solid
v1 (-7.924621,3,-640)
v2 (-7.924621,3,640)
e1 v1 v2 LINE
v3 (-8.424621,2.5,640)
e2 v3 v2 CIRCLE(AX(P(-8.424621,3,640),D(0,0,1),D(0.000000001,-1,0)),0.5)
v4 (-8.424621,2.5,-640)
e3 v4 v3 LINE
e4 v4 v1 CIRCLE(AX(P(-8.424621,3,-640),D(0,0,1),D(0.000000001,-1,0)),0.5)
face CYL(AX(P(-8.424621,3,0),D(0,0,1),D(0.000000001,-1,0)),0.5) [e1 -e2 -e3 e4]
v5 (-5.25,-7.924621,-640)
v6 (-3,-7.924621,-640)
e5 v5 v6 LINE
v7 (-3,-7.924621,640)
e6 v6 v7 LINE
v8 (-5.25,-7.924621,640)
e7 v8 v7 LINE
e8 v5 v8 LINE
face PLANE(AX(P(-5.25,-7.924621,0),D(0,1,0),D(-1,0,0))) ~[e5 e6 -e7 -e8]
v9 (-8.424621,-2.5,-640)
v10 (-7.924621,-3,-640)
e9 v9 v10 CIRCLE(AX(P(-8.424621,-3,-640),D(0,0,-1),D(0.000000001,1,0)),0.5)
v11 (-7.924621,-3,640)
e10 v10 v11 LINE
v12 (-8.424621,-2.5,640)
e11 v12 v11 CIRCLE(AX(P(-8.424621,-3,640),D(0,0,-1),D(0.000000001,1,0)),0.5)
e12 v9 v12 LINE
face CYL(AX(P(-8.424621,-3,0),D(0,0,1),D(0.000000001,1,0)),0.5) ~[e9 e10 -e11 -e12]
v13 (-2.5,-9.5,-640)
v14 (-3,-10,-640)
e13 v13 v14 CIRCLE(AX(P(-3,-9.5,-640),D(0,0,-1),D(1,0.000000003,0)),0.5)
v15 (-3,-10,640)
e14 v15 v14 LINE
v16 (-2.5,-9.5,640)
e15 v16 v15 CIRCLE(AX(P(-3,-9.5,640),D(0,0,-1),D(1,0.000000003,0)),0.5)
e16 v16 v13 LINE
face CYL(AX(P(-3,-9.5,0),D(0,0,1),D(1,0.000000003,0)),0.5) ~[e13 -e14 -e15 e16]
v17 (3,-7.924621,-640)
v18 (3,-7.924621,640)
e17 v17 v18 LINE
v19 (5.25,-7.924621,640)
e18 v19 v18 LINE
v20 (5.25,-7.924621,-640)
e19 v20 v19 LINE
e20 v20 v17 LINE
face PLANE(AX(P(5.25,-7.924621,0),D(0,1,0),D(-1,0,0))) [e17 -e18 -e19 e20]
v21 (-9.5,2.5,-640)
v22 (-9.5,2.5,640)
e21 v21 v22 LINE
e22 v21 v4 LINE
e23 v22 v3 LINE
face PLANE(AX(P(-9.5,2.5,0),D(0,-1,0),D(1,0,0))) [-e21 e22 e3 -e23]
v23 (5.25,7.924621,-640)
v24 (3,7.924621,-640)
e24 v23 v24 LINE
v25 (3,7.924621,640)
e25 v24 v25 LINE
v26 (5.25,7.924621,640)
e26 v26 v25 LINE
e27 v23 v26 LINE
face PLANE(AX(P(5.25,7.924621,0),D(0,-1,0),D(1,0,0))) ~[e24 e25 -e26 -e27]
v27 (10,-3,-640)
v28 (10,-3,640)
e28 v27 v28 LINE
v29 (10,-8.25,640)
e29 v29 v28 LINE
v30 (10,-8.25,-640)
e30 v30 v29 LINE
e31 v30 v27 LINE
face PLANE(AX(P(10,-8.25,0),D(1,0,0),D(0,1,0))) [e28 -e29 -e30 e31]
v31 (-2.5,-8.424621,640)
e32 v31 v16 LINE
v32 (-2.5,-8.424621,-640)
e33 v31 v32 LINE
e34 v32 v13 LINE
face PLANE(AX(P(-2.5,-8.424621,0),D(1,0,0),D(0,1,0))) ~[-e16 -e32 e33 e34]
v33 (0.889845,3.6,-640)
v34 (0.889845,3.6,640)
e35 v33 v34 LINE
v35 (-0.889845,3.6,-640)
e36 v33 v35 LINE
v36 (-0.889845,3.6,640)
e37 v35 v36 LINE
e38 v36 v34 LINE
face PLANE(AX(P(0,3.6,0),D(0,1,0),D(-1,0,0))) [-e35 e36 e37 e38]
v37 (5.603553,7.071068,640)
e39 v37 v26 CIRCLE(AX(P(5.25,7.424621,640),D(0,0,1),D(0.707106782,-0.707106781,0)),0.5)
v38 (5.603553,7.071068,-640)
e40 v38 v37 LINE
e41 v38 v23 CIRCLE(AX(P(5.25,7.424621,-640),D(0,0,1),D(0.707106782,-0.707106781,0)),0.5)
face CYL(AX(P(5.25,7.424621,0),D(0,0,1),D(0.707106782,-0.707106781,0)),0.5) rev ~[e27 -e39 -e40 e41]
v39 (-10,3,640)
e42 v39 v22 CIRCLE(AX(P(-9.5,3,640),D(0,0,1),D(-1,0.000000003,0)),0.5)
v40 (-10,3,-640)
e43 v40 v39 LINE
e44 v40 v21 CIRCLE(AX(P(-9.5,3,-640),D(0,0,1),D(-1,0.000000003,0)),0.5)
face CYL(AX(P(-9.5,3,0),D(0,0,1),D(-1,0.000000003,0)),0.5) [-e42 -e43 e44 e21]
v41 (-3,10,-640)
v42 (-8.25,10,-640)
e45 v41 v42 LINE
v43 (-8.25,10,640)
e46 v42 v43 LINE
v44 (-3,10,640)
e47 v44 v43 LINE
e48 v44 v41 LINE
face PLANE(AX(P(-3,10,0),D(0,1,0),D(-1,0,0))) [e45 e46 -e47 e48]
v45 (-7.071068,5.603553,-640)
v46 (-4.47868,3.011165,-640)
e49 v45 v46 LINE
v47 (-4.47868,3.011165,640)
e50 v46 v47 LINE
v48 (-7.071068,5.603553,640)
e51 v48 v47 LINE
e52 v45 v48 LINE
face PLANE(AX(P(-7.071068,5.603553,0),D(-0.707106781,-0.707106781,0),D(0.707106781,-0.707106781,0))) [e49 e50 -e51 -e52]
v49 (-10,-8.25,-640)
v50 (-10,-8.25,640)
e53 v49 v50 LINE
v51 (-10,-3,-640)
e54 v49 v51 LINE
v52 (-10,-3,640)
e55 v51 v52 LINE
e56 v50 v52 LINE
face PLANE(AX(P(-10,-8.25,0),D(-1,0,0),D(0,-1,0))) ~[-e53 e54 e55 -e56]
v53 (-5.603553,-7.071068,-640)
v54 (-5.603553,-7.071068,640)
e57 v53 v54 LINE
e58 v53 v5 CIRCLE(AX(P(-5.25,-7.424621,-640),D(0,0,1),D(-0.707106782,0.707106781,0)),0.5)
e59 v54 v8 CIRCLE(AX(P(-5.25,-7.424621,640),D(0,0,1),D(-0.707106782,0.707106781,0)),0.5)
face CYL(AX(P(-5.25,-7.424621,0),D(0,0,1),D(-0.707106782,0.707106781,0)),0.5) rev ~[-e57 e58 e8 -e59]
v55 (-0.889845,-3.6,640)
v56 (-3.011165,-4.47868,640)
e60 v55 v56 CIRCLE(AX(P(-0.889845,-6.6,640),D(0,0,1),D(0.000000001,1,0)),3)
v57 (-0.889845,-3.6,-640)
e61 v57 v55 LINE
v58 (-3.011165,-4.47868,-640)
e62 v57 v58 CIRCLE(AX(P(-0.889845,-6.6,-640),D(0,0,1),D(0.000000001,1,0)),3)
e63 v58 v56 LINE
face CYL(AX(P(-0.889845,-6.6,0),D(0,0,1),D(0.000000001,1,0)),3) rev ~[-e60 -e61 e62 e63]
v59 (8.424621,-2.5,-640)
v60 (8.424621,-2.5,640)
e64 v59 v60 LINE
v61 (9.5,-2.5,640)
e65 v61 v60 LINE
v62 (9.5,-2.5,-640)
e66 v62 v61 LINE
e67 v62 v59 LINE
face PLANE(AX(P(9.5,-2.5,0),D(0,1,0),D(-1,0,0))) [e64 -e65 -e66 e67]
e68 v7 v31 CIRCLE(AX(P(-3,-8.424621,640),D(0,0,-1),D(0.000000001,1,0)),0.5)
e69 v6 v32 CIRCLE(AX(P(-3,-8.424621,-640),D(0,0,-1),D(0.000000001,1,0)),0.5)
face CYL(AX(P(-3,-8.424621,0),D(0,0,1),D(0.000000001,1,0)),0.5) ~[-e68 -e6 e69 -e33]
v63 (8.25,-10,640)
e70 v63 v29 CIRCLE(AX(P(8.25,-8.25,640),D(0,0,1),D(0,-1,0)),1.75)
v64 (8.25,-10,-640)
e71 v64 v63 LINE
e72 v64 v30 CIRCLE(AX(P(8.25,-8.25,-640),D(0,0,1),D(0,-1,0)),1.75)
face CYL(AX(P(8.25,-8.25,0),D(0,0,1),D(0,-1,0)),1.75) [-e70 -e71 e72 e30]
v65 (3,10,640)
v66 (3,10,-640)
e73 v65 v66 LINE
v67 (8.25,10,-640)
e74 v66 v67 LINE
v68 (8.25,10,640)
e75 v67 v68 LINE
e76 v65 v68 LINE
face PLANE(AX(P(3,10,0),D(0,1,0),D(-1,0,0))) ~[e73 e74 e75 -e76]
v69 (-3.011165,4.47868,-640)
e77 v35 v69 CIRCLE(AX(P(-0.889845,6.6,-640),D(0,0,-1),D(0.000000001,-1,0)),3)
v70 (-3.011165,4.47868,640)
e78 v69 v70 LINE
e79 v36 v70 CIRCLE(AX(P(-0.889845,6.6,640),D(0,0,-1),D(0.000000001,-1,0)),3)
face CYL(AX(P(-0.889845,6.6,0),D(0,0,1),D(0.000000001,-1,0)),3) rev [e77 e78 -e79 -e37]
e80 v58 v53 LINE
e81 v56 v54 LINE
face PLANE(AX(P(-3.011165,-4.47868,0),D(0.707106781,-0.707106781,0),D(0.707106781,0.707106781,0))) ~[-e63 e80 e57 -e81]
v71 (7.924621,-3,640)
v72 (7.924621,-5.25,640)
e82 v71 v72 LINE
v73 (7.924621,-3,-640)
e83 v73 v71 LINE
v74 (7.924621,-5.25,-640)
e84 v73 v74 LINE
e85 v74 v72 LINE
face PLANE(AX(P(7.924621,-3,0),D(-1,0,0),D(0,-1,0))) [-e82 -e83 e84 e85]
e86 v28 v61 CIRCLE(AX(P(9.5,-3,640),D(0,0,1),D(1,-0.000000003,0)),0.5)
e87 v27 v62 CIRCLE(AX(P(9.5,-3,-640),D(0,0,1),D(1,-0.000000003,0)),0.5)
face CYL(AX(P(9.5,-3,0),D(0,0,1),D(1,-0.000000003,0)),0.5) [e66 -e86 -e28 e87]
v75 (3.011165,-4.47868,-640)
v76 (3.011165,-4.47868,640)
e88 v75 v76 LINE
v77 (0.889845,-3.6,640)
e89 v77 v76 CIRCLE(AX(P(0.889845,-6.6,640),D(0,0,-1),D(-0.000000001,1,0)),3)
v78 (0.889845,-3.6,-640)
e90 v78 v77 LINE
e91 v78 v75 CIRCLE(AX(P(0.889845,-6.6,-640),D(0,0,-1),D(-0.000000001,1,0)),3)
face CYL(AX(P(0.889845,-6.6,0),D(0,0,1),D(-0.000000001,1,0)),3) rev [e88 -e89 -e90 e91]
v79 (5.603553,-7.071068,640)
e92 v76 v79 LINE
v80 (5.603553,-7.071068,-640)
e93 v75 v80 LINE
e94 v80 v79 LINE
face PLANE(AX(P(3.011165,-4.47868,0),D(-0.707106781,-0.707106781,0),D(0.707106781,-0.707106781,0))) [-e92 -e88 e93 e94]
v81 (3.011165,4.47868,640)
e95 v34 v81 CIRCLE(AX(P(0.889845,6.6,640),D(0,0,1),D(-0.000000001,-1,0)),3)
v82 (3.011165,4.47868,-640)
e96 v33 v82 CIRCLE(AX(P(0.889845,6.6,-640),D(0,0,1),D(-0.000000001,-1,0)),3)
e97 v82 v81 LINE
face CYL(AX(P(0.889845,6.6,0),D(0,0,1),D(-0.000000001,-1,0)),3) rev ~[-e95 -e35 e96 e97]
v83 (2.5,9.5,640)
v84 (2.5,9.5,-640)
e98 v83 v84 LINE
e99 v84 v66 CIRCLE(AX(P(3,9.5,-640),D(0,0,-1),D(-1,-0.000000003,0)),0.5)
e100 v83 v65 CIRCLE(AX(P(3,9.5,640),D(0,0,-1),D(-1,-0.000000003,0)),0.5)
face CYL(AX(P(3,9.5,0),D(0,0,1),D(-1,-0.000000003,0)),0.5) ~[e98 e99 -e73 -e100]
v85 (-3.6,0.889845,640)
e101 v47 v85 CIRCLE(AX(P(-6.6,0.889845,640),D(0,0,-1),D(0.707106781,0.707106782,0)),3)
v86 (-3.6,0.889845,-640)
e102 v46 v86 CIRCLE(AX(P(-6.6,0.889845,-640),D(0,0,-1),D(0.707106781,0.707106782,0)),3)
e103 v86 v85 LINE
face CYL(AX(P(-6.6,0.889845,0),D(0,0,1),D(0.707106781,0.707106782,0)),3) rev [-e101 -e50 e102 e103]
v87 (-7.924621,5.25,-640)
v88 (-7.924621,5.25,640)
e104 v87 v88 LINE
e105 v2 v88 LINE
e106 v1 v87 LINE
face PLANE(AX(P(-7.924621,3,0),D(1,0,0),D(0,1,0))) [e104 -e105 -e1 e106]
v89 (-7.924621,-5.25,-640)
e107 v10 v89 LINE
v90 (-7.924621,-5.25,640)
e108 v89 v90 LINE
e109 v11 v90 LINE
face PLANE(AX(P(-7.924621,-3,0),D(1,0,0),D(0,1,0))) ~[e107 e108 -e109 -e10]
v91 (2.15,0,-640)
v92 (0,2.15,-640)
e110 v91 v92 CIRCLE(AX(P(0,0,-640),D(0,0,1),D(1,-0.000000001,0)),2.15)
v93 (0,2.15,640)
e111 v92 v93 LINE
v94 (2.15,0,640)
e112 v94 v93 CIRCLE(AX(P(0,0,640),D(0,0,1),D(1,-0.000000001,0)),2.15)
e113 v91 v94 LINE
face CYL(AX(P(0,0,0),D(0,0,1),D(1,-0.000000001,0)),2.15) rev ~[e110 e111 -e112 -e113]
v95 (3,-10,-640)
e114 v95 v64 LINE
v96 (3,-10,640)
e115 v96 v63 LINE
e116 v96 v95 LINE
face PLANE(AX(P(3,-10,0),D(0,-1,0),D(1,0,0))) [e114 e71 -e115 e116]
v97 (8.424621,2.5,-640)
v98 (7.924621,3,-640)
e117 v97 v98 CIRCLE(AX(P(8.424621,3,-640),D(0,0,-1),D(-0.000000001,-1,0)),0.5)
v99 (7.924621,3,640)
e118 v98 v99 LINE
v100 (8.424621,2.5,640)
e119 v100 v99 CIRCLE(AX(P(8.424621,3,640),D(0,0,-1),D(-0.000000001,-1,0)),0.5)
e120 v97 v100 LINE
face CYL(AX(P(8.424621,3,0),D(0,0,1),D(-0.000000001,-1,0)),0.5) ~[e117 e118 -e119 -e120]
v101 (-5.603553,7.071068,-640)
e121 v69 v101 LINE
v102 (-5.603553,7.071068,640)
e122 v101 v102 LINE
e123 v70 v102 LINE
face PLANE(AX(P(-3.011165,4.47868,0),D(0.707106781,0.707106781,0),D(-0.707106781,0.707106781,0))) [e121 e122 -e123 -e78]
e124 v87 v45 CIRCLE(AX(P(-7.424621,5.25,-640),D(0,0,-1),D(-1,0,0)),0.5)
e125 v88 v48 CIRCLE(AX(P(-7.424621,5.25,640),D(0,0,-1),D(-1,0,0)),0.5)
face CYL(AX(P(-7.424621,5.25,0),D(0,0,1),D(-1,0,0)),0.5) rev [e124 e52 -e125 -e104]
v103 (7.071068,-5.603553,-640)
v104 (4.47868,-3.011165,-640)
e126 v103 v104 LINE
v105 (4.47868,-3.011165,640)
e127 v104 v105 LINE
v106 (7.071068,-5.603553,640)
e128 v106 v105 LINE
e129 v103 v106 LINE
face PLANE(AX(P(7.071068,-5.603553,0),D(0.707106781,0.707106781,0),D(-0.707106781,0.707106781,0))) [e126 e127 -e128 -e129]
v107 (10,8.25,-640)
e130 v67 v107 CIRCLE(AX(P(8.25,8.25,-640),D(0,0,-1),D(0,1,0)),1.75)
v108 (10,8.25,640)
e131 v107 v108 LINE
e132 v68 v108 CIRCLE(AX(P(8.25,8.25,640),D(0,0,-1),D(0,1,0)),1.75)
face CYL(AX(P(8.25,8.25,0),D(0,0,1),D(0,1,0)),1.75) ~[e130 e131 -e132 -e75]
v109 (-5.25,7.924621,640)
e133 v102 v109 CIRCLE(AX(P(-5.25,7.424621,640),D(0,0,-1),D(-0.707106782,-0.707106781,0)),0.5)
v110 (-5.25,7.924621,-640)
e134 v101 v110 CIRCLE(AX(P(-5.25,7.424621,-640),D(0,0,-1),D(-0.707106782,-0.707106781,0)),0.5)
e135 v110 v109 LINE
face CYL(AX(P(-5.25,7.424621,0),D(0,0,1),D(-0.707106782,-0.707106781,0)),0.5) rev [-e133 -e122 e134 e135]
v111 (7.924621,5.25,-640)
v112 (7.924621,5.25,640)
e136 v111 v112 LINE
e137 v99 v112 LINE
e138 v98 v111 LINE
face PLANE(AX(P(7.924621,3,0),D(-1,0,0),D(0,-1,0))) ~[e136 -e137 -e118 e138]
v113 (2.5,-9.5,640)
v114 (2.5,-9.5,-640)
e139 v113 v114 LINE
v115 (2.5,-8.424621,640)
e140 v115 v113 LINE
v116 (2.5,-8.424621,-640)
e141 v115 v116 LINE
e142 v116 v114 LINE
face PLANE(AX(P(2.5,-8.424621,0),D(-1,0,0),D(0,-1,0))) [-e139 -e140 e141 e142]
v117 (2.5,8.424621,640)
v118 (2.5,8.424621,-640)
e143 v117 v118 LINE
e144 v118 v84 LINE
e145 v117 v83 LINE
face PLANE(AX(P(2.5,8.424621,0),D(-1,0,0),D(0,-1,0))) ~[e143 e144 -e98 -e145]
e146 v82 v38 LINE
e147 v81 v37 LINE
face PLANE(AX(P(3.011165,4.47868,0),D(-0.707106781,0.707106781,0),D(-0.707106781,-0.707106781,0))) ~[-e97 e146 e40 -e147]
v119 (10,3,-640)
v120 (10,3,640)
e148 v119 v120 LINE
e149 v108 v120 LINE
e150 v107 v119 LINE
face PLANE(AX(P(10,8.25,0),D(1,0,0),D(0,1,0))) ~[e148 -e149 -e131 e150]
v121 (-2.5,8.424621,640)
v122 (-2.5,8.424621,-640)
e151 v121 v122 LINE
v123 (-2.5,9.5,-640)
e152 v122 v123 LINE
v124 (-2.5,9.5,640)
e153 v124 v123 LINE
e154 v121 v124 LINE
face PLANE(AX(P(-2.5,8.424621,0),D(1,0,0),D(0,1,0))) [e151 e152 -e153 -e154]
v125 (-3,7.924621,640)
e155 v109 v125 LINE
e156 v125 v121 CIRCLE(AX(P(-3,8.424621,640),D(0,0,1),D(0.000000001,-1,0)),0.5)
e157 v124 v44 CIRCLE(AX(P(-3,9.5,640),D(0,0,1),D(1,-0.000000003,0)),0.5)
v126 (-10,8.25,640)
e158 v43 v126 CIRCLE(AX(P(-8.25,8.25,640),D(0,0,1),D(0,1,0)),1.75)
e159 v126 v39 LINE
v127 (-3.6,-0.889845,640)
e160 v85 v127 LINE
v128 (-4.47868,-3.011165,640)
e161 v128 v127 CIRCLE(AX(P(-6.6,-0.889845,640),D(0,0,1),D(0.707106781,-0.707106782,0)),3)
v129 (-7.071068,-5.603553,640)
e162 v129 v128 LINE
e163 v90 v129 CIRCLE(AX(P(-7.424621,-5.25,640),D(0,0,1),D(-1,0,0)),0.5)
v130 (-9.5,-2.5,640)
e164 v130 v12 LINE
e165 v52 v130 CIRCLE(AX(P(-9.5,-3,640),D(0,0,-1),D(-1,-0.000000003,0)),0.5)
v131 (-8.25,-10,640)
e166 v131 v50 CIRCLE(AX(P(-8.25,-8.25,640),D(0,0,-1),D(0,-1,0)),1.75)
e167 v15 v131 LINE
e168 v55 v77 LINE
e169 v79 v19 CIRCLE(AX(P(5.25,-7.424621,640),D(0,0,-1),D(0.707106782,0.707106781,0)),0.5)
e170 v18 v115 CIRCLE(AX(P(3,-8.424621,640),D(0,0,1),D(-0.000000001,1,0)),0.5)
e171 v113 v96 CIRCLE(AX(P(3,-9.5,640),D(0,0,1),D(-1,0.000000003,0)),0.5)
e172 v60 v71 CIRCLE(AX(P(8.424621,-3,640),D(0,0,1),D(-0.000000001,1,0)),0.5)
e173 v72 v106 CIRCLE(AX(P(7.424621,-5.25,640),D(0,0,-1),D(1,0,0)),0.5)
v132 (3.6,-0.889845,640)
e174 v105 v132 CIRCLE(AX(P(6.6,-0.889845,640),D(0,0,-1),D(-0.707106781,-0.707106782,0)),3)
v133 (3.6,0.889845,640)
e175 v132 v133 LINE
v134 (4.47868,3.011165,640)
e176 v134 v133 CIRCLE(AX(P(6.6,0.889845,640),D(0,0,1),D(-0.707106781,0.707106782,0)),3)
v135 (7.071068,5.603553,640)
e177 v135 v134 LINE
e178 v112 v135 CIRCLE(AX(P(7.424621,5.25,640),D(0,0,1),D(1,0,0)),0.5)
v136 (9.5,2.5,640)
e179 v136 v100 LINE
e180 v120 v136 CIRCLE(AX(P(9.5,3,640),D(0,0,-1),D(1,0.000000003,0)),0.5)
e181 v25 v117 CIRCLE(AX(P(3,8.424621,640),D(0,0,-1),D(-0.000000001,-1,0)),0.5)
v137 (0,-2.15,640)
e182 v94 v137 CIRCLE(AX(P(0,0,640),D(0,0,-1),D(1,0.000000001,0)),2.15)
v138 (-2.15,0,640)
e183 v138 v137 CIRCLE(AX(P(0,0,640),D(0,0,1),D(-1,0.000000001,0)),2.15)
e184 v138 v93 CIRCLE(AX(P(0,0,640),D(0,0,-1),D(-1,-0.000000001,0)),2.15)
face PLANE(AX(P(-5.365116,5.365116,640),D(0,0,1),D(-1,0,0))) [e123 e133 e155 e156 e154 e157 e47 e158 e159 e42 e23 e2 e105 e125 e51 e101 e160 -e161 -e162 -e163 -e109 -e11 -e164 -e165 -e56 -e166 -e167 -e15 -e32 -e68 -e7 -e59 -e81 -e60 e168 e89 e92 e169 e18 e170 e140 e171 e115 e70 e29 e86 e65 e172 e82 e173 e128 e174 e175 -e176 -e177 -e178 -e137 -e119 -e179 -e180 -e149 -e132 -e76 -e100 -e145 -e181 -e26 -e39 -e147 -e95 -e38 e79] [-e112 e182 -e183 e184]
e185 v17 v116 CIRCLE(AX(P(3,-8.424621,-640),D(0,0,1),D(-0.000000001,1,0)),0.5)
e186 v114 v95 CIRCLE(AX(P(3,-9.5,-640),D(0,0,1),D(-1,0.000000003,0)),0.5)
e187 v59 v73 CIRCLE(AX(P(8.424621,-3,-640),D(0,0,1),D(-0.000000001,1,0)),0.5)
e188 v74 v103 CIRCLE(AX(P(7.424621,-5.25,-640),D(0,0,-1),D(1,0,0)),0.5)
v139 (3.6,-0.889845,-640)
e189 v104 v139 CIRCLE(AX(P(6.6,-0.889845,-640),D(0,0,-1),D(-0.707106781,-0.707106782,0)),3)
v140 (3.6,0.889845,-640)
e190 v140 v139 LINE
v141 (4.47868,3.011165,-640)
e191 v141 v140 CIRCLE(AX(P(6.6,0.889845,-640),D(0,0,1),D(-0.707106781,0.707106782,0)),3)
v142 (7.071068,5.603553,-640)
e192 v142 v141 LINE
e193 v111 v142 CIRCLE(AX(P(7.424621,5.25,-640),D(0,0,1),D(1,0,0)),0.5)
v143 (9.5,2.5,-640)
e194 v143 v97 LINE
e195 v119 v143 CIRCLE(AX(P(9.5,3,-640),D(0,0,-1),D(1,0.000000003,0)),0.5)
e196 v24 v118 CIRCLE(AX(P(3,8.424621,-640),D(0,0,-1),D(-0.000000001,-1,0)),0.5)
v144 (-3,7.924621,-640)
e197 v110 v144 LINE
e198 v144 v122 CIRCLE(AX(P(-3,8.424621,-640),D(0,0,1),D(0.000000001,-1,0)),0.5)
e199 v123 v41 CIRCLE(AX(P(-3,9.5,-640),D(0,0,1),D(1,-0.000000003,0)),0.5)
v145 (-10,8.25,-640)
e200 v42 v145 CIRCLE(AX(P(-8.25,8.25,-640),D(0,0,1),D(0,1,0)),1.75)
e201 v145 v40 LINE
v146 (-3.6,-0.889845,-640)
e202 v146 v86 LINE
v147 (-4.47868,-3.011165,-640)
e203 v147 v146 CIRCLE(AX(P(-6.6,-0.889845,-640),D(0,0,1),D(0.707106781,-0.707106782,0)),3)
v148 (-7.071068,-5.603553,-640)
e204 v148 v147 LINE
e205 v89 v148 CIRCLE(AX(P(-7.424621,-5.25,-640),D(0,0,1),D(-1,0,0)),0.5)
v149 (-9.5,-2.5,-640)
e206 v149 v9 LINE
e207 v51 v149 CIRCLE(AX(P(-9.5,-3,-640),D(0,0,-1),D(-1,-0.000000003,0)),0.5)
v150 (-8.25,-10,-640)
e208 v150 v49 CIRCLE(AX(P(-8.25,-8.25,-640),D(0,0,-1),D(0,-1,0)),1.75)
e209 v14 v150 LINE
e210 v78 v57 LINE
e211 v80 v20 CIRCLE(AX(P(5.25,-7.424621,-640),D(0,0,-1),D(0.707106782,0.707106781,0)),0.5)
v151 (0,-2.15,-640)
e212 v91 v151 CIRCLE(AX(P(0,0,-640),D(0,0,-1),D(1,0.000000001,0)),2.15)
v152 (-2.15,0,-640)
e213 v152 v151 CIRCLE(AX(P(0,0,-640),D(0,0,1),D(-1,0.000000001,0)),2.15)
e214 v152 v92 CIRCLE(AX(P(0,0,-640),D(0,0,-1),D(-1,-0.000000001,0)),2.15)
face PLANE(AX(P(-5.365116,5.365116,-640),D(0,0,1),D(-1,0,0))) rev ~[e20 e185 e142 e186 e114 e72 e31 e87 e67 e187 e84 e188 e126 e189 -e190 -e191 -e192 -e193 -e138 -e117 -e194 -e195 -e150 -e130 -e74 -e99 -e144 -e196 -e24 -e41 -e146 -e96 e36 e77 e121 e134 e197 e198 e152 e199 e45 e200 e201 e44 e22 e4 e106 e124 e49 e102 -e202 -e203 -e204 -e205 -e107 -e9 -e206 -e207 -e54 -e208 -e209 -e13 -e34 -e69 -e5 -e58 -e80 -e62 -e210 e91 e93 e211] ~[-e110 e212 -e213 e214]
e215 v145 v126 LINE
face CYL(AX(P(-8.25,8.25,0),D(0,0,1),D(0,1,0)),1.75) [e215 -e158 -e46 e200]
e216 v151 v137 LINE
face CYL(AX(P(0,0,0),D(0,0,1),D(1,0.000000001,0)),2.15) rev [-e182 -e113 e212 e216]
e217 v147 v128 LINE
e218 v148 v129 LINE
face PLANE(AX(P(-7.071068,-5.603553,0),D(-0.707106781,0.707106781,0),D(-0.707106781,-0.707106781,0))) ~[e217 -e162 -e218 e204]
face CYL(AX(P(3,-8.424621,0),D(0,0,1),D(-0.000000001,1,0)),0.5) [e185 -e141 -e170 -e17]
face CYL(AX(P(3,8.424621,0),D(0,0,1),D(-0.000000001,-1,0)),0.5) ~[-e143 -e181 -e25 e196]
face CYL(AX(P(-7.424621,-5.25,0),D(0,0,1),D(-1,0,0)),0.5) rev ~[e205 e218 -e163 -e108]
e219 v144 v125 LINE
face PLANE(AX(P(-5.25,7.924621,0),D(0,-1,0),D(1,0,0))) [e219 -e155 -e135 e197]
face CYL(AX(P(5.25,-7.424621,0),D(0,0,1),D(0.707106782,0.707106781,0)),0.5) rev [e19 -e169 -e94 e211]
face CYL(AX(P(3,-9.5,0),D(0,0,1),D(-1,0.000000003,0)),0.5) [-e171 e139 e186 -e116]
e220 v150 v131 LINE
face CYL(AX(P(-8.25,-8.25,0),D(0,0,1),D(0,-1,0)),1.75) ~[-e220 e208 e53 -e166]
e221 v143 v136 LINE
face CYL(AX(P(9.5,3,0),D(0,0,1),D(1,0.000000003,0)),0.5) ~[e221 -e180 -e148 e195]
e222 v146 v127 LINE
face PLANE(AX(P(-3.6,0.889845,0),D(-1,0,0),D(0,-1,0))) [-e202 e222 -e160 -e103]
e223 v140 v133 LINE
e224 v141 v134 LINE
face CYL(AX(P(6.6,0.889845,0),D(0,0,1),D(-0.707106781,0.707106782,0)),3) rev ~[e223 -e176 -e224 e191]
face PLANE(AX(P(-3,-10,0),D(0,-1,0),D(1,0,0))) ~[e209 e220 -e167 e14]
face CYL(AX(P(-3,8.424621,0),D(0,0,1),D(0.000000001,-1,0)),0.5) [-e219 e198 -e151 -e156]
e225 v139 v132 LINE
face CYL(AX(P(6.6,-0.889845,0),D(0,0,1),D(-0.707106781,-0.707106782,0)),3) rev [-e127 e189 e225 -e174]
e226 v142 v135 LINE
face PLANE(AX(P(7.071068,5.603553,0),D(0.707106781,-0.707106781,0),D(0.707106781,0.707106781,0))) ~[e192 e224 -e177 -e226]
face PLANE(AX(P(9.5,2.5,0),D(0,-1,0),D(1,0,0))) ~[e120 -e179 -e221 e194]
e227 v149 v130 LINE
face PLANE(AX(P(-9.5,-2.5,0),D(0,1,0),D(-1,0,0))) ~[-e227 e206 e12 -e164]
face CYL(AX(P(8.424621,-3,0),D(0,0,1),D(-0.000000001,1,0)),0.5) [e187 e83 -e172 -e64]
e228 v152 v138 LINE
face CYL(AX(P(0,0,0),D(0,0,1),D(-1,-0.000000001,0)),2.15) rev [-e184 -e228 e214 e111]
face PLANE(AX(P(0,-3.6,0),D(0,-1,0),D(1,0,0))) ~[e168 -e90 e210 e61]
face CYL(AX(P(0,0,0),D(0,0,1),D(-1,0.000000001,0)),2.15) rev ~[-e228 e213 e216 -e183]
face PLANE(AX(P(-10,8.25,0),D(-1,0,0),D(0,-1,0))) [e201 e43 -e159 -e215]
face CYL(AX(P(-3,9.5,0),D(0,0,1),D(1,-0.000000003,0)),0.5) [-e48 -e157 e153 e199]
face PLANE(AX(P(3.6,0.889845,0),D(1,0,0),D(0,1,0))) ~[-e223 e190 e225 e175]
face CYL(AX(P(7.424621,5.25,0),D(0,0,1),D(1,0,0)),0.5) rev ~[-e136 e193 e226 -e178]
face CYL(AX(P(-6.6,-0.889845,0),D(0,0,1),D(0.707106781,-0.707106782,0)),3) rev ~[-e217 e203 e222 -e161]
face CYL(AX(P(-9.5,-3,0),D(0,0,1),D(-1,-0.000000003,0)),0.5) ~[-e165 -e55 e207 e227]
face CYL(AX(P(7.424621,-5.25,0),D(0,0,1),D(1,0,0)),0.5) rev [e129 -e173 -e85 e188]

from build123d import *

# Parameters (mm, degrees)
BOSS_EXTRUDE1_DEPTH = 640


with BuildPart() as part:
    # Sketch4 → Boss-Extrude1 (new, symmetric)
    with BuildSketch(Plane.XY):
        with BuildLine():
            Line((3, -10), (8.25, -10))
            ThreePointArc((8.25, -10), (9.487436867, -9.487436867), (10, -8.25))
            Line((10, -8.25), (10, -3))
            ThreePointArc((10, -3), (9.853553391, -2.646446609), (9.5, -2.5))
            Line((9.5, -2.5), (8.424621202, -2.5))
            ThreePointArc((8.424621202, -2.5), (8.071067812, -2.646446609), (7.924621202, -3))
            Line((7.924621202, -3), (7.924621202, -5.25))
            ThreePointArc((7.924621202, -5.25), (7.615962919, -5.711939766), (7.071067812, -5.603553391))
            Line((7.071067812, -5.603553391), (4.478679656, -3.011165235))
            ThreePointArc((4.478679656, -3.011165235), (3.828361402, -2.037895189), (3.6, -0.889844892))
            Line((3.6, -0.889844892), (3.6, 0))
            Line((3.6, 0), (2.15, 0))
            ThreePointArc((2.15, 0), (1.52027958, -1.52027958), (0, -2.15))
            Line((0, -2.15), (0, -3.6))
            Line((0, -3.6), (0.889844892, -3.6))
            ThreePointArc((0.889844892, -3.6), (2.037895189, -3.828361402), (3.011165235, -4.478679656))
            Line((3.011165235, -4.478679656), (5.603553391, -7.071067812))
            ThreePointArc((5.603553391, -7.071067812), (5.711939766, -7.615962919), (5.25, -7.924621202))
            Line((5.25, -7.924621202), (3, -7.924621202))
            ThreePointArc((3, -7.924621202), (2.646446609, -8.071067812), (2.5, -8.424621202))
            Line((2.5, -8.424621202), (2.5, -9.5))
            ThreePointArc((2.5, -9.5), (2.646446609, -9.853553391), (3, -10))
        make_face()
    extrude(amount=BOSS_EXTRUDE1_DEPTH, both=True)

    # Mirror1: part across plane


with BuildPart() as part_1:
    add(part.part)
    add(part.part.mirror(Plane(origin=(0, 0, 0), x_dir=(0, 0, 1), z_dir=(1, 0, 0))))

    # Mirror2: part across plane


with BuildPart() as part_2:
    add(part_1.part)
    add(part_1.part.mirror(Plane.ZX))


solid = part_2.part
